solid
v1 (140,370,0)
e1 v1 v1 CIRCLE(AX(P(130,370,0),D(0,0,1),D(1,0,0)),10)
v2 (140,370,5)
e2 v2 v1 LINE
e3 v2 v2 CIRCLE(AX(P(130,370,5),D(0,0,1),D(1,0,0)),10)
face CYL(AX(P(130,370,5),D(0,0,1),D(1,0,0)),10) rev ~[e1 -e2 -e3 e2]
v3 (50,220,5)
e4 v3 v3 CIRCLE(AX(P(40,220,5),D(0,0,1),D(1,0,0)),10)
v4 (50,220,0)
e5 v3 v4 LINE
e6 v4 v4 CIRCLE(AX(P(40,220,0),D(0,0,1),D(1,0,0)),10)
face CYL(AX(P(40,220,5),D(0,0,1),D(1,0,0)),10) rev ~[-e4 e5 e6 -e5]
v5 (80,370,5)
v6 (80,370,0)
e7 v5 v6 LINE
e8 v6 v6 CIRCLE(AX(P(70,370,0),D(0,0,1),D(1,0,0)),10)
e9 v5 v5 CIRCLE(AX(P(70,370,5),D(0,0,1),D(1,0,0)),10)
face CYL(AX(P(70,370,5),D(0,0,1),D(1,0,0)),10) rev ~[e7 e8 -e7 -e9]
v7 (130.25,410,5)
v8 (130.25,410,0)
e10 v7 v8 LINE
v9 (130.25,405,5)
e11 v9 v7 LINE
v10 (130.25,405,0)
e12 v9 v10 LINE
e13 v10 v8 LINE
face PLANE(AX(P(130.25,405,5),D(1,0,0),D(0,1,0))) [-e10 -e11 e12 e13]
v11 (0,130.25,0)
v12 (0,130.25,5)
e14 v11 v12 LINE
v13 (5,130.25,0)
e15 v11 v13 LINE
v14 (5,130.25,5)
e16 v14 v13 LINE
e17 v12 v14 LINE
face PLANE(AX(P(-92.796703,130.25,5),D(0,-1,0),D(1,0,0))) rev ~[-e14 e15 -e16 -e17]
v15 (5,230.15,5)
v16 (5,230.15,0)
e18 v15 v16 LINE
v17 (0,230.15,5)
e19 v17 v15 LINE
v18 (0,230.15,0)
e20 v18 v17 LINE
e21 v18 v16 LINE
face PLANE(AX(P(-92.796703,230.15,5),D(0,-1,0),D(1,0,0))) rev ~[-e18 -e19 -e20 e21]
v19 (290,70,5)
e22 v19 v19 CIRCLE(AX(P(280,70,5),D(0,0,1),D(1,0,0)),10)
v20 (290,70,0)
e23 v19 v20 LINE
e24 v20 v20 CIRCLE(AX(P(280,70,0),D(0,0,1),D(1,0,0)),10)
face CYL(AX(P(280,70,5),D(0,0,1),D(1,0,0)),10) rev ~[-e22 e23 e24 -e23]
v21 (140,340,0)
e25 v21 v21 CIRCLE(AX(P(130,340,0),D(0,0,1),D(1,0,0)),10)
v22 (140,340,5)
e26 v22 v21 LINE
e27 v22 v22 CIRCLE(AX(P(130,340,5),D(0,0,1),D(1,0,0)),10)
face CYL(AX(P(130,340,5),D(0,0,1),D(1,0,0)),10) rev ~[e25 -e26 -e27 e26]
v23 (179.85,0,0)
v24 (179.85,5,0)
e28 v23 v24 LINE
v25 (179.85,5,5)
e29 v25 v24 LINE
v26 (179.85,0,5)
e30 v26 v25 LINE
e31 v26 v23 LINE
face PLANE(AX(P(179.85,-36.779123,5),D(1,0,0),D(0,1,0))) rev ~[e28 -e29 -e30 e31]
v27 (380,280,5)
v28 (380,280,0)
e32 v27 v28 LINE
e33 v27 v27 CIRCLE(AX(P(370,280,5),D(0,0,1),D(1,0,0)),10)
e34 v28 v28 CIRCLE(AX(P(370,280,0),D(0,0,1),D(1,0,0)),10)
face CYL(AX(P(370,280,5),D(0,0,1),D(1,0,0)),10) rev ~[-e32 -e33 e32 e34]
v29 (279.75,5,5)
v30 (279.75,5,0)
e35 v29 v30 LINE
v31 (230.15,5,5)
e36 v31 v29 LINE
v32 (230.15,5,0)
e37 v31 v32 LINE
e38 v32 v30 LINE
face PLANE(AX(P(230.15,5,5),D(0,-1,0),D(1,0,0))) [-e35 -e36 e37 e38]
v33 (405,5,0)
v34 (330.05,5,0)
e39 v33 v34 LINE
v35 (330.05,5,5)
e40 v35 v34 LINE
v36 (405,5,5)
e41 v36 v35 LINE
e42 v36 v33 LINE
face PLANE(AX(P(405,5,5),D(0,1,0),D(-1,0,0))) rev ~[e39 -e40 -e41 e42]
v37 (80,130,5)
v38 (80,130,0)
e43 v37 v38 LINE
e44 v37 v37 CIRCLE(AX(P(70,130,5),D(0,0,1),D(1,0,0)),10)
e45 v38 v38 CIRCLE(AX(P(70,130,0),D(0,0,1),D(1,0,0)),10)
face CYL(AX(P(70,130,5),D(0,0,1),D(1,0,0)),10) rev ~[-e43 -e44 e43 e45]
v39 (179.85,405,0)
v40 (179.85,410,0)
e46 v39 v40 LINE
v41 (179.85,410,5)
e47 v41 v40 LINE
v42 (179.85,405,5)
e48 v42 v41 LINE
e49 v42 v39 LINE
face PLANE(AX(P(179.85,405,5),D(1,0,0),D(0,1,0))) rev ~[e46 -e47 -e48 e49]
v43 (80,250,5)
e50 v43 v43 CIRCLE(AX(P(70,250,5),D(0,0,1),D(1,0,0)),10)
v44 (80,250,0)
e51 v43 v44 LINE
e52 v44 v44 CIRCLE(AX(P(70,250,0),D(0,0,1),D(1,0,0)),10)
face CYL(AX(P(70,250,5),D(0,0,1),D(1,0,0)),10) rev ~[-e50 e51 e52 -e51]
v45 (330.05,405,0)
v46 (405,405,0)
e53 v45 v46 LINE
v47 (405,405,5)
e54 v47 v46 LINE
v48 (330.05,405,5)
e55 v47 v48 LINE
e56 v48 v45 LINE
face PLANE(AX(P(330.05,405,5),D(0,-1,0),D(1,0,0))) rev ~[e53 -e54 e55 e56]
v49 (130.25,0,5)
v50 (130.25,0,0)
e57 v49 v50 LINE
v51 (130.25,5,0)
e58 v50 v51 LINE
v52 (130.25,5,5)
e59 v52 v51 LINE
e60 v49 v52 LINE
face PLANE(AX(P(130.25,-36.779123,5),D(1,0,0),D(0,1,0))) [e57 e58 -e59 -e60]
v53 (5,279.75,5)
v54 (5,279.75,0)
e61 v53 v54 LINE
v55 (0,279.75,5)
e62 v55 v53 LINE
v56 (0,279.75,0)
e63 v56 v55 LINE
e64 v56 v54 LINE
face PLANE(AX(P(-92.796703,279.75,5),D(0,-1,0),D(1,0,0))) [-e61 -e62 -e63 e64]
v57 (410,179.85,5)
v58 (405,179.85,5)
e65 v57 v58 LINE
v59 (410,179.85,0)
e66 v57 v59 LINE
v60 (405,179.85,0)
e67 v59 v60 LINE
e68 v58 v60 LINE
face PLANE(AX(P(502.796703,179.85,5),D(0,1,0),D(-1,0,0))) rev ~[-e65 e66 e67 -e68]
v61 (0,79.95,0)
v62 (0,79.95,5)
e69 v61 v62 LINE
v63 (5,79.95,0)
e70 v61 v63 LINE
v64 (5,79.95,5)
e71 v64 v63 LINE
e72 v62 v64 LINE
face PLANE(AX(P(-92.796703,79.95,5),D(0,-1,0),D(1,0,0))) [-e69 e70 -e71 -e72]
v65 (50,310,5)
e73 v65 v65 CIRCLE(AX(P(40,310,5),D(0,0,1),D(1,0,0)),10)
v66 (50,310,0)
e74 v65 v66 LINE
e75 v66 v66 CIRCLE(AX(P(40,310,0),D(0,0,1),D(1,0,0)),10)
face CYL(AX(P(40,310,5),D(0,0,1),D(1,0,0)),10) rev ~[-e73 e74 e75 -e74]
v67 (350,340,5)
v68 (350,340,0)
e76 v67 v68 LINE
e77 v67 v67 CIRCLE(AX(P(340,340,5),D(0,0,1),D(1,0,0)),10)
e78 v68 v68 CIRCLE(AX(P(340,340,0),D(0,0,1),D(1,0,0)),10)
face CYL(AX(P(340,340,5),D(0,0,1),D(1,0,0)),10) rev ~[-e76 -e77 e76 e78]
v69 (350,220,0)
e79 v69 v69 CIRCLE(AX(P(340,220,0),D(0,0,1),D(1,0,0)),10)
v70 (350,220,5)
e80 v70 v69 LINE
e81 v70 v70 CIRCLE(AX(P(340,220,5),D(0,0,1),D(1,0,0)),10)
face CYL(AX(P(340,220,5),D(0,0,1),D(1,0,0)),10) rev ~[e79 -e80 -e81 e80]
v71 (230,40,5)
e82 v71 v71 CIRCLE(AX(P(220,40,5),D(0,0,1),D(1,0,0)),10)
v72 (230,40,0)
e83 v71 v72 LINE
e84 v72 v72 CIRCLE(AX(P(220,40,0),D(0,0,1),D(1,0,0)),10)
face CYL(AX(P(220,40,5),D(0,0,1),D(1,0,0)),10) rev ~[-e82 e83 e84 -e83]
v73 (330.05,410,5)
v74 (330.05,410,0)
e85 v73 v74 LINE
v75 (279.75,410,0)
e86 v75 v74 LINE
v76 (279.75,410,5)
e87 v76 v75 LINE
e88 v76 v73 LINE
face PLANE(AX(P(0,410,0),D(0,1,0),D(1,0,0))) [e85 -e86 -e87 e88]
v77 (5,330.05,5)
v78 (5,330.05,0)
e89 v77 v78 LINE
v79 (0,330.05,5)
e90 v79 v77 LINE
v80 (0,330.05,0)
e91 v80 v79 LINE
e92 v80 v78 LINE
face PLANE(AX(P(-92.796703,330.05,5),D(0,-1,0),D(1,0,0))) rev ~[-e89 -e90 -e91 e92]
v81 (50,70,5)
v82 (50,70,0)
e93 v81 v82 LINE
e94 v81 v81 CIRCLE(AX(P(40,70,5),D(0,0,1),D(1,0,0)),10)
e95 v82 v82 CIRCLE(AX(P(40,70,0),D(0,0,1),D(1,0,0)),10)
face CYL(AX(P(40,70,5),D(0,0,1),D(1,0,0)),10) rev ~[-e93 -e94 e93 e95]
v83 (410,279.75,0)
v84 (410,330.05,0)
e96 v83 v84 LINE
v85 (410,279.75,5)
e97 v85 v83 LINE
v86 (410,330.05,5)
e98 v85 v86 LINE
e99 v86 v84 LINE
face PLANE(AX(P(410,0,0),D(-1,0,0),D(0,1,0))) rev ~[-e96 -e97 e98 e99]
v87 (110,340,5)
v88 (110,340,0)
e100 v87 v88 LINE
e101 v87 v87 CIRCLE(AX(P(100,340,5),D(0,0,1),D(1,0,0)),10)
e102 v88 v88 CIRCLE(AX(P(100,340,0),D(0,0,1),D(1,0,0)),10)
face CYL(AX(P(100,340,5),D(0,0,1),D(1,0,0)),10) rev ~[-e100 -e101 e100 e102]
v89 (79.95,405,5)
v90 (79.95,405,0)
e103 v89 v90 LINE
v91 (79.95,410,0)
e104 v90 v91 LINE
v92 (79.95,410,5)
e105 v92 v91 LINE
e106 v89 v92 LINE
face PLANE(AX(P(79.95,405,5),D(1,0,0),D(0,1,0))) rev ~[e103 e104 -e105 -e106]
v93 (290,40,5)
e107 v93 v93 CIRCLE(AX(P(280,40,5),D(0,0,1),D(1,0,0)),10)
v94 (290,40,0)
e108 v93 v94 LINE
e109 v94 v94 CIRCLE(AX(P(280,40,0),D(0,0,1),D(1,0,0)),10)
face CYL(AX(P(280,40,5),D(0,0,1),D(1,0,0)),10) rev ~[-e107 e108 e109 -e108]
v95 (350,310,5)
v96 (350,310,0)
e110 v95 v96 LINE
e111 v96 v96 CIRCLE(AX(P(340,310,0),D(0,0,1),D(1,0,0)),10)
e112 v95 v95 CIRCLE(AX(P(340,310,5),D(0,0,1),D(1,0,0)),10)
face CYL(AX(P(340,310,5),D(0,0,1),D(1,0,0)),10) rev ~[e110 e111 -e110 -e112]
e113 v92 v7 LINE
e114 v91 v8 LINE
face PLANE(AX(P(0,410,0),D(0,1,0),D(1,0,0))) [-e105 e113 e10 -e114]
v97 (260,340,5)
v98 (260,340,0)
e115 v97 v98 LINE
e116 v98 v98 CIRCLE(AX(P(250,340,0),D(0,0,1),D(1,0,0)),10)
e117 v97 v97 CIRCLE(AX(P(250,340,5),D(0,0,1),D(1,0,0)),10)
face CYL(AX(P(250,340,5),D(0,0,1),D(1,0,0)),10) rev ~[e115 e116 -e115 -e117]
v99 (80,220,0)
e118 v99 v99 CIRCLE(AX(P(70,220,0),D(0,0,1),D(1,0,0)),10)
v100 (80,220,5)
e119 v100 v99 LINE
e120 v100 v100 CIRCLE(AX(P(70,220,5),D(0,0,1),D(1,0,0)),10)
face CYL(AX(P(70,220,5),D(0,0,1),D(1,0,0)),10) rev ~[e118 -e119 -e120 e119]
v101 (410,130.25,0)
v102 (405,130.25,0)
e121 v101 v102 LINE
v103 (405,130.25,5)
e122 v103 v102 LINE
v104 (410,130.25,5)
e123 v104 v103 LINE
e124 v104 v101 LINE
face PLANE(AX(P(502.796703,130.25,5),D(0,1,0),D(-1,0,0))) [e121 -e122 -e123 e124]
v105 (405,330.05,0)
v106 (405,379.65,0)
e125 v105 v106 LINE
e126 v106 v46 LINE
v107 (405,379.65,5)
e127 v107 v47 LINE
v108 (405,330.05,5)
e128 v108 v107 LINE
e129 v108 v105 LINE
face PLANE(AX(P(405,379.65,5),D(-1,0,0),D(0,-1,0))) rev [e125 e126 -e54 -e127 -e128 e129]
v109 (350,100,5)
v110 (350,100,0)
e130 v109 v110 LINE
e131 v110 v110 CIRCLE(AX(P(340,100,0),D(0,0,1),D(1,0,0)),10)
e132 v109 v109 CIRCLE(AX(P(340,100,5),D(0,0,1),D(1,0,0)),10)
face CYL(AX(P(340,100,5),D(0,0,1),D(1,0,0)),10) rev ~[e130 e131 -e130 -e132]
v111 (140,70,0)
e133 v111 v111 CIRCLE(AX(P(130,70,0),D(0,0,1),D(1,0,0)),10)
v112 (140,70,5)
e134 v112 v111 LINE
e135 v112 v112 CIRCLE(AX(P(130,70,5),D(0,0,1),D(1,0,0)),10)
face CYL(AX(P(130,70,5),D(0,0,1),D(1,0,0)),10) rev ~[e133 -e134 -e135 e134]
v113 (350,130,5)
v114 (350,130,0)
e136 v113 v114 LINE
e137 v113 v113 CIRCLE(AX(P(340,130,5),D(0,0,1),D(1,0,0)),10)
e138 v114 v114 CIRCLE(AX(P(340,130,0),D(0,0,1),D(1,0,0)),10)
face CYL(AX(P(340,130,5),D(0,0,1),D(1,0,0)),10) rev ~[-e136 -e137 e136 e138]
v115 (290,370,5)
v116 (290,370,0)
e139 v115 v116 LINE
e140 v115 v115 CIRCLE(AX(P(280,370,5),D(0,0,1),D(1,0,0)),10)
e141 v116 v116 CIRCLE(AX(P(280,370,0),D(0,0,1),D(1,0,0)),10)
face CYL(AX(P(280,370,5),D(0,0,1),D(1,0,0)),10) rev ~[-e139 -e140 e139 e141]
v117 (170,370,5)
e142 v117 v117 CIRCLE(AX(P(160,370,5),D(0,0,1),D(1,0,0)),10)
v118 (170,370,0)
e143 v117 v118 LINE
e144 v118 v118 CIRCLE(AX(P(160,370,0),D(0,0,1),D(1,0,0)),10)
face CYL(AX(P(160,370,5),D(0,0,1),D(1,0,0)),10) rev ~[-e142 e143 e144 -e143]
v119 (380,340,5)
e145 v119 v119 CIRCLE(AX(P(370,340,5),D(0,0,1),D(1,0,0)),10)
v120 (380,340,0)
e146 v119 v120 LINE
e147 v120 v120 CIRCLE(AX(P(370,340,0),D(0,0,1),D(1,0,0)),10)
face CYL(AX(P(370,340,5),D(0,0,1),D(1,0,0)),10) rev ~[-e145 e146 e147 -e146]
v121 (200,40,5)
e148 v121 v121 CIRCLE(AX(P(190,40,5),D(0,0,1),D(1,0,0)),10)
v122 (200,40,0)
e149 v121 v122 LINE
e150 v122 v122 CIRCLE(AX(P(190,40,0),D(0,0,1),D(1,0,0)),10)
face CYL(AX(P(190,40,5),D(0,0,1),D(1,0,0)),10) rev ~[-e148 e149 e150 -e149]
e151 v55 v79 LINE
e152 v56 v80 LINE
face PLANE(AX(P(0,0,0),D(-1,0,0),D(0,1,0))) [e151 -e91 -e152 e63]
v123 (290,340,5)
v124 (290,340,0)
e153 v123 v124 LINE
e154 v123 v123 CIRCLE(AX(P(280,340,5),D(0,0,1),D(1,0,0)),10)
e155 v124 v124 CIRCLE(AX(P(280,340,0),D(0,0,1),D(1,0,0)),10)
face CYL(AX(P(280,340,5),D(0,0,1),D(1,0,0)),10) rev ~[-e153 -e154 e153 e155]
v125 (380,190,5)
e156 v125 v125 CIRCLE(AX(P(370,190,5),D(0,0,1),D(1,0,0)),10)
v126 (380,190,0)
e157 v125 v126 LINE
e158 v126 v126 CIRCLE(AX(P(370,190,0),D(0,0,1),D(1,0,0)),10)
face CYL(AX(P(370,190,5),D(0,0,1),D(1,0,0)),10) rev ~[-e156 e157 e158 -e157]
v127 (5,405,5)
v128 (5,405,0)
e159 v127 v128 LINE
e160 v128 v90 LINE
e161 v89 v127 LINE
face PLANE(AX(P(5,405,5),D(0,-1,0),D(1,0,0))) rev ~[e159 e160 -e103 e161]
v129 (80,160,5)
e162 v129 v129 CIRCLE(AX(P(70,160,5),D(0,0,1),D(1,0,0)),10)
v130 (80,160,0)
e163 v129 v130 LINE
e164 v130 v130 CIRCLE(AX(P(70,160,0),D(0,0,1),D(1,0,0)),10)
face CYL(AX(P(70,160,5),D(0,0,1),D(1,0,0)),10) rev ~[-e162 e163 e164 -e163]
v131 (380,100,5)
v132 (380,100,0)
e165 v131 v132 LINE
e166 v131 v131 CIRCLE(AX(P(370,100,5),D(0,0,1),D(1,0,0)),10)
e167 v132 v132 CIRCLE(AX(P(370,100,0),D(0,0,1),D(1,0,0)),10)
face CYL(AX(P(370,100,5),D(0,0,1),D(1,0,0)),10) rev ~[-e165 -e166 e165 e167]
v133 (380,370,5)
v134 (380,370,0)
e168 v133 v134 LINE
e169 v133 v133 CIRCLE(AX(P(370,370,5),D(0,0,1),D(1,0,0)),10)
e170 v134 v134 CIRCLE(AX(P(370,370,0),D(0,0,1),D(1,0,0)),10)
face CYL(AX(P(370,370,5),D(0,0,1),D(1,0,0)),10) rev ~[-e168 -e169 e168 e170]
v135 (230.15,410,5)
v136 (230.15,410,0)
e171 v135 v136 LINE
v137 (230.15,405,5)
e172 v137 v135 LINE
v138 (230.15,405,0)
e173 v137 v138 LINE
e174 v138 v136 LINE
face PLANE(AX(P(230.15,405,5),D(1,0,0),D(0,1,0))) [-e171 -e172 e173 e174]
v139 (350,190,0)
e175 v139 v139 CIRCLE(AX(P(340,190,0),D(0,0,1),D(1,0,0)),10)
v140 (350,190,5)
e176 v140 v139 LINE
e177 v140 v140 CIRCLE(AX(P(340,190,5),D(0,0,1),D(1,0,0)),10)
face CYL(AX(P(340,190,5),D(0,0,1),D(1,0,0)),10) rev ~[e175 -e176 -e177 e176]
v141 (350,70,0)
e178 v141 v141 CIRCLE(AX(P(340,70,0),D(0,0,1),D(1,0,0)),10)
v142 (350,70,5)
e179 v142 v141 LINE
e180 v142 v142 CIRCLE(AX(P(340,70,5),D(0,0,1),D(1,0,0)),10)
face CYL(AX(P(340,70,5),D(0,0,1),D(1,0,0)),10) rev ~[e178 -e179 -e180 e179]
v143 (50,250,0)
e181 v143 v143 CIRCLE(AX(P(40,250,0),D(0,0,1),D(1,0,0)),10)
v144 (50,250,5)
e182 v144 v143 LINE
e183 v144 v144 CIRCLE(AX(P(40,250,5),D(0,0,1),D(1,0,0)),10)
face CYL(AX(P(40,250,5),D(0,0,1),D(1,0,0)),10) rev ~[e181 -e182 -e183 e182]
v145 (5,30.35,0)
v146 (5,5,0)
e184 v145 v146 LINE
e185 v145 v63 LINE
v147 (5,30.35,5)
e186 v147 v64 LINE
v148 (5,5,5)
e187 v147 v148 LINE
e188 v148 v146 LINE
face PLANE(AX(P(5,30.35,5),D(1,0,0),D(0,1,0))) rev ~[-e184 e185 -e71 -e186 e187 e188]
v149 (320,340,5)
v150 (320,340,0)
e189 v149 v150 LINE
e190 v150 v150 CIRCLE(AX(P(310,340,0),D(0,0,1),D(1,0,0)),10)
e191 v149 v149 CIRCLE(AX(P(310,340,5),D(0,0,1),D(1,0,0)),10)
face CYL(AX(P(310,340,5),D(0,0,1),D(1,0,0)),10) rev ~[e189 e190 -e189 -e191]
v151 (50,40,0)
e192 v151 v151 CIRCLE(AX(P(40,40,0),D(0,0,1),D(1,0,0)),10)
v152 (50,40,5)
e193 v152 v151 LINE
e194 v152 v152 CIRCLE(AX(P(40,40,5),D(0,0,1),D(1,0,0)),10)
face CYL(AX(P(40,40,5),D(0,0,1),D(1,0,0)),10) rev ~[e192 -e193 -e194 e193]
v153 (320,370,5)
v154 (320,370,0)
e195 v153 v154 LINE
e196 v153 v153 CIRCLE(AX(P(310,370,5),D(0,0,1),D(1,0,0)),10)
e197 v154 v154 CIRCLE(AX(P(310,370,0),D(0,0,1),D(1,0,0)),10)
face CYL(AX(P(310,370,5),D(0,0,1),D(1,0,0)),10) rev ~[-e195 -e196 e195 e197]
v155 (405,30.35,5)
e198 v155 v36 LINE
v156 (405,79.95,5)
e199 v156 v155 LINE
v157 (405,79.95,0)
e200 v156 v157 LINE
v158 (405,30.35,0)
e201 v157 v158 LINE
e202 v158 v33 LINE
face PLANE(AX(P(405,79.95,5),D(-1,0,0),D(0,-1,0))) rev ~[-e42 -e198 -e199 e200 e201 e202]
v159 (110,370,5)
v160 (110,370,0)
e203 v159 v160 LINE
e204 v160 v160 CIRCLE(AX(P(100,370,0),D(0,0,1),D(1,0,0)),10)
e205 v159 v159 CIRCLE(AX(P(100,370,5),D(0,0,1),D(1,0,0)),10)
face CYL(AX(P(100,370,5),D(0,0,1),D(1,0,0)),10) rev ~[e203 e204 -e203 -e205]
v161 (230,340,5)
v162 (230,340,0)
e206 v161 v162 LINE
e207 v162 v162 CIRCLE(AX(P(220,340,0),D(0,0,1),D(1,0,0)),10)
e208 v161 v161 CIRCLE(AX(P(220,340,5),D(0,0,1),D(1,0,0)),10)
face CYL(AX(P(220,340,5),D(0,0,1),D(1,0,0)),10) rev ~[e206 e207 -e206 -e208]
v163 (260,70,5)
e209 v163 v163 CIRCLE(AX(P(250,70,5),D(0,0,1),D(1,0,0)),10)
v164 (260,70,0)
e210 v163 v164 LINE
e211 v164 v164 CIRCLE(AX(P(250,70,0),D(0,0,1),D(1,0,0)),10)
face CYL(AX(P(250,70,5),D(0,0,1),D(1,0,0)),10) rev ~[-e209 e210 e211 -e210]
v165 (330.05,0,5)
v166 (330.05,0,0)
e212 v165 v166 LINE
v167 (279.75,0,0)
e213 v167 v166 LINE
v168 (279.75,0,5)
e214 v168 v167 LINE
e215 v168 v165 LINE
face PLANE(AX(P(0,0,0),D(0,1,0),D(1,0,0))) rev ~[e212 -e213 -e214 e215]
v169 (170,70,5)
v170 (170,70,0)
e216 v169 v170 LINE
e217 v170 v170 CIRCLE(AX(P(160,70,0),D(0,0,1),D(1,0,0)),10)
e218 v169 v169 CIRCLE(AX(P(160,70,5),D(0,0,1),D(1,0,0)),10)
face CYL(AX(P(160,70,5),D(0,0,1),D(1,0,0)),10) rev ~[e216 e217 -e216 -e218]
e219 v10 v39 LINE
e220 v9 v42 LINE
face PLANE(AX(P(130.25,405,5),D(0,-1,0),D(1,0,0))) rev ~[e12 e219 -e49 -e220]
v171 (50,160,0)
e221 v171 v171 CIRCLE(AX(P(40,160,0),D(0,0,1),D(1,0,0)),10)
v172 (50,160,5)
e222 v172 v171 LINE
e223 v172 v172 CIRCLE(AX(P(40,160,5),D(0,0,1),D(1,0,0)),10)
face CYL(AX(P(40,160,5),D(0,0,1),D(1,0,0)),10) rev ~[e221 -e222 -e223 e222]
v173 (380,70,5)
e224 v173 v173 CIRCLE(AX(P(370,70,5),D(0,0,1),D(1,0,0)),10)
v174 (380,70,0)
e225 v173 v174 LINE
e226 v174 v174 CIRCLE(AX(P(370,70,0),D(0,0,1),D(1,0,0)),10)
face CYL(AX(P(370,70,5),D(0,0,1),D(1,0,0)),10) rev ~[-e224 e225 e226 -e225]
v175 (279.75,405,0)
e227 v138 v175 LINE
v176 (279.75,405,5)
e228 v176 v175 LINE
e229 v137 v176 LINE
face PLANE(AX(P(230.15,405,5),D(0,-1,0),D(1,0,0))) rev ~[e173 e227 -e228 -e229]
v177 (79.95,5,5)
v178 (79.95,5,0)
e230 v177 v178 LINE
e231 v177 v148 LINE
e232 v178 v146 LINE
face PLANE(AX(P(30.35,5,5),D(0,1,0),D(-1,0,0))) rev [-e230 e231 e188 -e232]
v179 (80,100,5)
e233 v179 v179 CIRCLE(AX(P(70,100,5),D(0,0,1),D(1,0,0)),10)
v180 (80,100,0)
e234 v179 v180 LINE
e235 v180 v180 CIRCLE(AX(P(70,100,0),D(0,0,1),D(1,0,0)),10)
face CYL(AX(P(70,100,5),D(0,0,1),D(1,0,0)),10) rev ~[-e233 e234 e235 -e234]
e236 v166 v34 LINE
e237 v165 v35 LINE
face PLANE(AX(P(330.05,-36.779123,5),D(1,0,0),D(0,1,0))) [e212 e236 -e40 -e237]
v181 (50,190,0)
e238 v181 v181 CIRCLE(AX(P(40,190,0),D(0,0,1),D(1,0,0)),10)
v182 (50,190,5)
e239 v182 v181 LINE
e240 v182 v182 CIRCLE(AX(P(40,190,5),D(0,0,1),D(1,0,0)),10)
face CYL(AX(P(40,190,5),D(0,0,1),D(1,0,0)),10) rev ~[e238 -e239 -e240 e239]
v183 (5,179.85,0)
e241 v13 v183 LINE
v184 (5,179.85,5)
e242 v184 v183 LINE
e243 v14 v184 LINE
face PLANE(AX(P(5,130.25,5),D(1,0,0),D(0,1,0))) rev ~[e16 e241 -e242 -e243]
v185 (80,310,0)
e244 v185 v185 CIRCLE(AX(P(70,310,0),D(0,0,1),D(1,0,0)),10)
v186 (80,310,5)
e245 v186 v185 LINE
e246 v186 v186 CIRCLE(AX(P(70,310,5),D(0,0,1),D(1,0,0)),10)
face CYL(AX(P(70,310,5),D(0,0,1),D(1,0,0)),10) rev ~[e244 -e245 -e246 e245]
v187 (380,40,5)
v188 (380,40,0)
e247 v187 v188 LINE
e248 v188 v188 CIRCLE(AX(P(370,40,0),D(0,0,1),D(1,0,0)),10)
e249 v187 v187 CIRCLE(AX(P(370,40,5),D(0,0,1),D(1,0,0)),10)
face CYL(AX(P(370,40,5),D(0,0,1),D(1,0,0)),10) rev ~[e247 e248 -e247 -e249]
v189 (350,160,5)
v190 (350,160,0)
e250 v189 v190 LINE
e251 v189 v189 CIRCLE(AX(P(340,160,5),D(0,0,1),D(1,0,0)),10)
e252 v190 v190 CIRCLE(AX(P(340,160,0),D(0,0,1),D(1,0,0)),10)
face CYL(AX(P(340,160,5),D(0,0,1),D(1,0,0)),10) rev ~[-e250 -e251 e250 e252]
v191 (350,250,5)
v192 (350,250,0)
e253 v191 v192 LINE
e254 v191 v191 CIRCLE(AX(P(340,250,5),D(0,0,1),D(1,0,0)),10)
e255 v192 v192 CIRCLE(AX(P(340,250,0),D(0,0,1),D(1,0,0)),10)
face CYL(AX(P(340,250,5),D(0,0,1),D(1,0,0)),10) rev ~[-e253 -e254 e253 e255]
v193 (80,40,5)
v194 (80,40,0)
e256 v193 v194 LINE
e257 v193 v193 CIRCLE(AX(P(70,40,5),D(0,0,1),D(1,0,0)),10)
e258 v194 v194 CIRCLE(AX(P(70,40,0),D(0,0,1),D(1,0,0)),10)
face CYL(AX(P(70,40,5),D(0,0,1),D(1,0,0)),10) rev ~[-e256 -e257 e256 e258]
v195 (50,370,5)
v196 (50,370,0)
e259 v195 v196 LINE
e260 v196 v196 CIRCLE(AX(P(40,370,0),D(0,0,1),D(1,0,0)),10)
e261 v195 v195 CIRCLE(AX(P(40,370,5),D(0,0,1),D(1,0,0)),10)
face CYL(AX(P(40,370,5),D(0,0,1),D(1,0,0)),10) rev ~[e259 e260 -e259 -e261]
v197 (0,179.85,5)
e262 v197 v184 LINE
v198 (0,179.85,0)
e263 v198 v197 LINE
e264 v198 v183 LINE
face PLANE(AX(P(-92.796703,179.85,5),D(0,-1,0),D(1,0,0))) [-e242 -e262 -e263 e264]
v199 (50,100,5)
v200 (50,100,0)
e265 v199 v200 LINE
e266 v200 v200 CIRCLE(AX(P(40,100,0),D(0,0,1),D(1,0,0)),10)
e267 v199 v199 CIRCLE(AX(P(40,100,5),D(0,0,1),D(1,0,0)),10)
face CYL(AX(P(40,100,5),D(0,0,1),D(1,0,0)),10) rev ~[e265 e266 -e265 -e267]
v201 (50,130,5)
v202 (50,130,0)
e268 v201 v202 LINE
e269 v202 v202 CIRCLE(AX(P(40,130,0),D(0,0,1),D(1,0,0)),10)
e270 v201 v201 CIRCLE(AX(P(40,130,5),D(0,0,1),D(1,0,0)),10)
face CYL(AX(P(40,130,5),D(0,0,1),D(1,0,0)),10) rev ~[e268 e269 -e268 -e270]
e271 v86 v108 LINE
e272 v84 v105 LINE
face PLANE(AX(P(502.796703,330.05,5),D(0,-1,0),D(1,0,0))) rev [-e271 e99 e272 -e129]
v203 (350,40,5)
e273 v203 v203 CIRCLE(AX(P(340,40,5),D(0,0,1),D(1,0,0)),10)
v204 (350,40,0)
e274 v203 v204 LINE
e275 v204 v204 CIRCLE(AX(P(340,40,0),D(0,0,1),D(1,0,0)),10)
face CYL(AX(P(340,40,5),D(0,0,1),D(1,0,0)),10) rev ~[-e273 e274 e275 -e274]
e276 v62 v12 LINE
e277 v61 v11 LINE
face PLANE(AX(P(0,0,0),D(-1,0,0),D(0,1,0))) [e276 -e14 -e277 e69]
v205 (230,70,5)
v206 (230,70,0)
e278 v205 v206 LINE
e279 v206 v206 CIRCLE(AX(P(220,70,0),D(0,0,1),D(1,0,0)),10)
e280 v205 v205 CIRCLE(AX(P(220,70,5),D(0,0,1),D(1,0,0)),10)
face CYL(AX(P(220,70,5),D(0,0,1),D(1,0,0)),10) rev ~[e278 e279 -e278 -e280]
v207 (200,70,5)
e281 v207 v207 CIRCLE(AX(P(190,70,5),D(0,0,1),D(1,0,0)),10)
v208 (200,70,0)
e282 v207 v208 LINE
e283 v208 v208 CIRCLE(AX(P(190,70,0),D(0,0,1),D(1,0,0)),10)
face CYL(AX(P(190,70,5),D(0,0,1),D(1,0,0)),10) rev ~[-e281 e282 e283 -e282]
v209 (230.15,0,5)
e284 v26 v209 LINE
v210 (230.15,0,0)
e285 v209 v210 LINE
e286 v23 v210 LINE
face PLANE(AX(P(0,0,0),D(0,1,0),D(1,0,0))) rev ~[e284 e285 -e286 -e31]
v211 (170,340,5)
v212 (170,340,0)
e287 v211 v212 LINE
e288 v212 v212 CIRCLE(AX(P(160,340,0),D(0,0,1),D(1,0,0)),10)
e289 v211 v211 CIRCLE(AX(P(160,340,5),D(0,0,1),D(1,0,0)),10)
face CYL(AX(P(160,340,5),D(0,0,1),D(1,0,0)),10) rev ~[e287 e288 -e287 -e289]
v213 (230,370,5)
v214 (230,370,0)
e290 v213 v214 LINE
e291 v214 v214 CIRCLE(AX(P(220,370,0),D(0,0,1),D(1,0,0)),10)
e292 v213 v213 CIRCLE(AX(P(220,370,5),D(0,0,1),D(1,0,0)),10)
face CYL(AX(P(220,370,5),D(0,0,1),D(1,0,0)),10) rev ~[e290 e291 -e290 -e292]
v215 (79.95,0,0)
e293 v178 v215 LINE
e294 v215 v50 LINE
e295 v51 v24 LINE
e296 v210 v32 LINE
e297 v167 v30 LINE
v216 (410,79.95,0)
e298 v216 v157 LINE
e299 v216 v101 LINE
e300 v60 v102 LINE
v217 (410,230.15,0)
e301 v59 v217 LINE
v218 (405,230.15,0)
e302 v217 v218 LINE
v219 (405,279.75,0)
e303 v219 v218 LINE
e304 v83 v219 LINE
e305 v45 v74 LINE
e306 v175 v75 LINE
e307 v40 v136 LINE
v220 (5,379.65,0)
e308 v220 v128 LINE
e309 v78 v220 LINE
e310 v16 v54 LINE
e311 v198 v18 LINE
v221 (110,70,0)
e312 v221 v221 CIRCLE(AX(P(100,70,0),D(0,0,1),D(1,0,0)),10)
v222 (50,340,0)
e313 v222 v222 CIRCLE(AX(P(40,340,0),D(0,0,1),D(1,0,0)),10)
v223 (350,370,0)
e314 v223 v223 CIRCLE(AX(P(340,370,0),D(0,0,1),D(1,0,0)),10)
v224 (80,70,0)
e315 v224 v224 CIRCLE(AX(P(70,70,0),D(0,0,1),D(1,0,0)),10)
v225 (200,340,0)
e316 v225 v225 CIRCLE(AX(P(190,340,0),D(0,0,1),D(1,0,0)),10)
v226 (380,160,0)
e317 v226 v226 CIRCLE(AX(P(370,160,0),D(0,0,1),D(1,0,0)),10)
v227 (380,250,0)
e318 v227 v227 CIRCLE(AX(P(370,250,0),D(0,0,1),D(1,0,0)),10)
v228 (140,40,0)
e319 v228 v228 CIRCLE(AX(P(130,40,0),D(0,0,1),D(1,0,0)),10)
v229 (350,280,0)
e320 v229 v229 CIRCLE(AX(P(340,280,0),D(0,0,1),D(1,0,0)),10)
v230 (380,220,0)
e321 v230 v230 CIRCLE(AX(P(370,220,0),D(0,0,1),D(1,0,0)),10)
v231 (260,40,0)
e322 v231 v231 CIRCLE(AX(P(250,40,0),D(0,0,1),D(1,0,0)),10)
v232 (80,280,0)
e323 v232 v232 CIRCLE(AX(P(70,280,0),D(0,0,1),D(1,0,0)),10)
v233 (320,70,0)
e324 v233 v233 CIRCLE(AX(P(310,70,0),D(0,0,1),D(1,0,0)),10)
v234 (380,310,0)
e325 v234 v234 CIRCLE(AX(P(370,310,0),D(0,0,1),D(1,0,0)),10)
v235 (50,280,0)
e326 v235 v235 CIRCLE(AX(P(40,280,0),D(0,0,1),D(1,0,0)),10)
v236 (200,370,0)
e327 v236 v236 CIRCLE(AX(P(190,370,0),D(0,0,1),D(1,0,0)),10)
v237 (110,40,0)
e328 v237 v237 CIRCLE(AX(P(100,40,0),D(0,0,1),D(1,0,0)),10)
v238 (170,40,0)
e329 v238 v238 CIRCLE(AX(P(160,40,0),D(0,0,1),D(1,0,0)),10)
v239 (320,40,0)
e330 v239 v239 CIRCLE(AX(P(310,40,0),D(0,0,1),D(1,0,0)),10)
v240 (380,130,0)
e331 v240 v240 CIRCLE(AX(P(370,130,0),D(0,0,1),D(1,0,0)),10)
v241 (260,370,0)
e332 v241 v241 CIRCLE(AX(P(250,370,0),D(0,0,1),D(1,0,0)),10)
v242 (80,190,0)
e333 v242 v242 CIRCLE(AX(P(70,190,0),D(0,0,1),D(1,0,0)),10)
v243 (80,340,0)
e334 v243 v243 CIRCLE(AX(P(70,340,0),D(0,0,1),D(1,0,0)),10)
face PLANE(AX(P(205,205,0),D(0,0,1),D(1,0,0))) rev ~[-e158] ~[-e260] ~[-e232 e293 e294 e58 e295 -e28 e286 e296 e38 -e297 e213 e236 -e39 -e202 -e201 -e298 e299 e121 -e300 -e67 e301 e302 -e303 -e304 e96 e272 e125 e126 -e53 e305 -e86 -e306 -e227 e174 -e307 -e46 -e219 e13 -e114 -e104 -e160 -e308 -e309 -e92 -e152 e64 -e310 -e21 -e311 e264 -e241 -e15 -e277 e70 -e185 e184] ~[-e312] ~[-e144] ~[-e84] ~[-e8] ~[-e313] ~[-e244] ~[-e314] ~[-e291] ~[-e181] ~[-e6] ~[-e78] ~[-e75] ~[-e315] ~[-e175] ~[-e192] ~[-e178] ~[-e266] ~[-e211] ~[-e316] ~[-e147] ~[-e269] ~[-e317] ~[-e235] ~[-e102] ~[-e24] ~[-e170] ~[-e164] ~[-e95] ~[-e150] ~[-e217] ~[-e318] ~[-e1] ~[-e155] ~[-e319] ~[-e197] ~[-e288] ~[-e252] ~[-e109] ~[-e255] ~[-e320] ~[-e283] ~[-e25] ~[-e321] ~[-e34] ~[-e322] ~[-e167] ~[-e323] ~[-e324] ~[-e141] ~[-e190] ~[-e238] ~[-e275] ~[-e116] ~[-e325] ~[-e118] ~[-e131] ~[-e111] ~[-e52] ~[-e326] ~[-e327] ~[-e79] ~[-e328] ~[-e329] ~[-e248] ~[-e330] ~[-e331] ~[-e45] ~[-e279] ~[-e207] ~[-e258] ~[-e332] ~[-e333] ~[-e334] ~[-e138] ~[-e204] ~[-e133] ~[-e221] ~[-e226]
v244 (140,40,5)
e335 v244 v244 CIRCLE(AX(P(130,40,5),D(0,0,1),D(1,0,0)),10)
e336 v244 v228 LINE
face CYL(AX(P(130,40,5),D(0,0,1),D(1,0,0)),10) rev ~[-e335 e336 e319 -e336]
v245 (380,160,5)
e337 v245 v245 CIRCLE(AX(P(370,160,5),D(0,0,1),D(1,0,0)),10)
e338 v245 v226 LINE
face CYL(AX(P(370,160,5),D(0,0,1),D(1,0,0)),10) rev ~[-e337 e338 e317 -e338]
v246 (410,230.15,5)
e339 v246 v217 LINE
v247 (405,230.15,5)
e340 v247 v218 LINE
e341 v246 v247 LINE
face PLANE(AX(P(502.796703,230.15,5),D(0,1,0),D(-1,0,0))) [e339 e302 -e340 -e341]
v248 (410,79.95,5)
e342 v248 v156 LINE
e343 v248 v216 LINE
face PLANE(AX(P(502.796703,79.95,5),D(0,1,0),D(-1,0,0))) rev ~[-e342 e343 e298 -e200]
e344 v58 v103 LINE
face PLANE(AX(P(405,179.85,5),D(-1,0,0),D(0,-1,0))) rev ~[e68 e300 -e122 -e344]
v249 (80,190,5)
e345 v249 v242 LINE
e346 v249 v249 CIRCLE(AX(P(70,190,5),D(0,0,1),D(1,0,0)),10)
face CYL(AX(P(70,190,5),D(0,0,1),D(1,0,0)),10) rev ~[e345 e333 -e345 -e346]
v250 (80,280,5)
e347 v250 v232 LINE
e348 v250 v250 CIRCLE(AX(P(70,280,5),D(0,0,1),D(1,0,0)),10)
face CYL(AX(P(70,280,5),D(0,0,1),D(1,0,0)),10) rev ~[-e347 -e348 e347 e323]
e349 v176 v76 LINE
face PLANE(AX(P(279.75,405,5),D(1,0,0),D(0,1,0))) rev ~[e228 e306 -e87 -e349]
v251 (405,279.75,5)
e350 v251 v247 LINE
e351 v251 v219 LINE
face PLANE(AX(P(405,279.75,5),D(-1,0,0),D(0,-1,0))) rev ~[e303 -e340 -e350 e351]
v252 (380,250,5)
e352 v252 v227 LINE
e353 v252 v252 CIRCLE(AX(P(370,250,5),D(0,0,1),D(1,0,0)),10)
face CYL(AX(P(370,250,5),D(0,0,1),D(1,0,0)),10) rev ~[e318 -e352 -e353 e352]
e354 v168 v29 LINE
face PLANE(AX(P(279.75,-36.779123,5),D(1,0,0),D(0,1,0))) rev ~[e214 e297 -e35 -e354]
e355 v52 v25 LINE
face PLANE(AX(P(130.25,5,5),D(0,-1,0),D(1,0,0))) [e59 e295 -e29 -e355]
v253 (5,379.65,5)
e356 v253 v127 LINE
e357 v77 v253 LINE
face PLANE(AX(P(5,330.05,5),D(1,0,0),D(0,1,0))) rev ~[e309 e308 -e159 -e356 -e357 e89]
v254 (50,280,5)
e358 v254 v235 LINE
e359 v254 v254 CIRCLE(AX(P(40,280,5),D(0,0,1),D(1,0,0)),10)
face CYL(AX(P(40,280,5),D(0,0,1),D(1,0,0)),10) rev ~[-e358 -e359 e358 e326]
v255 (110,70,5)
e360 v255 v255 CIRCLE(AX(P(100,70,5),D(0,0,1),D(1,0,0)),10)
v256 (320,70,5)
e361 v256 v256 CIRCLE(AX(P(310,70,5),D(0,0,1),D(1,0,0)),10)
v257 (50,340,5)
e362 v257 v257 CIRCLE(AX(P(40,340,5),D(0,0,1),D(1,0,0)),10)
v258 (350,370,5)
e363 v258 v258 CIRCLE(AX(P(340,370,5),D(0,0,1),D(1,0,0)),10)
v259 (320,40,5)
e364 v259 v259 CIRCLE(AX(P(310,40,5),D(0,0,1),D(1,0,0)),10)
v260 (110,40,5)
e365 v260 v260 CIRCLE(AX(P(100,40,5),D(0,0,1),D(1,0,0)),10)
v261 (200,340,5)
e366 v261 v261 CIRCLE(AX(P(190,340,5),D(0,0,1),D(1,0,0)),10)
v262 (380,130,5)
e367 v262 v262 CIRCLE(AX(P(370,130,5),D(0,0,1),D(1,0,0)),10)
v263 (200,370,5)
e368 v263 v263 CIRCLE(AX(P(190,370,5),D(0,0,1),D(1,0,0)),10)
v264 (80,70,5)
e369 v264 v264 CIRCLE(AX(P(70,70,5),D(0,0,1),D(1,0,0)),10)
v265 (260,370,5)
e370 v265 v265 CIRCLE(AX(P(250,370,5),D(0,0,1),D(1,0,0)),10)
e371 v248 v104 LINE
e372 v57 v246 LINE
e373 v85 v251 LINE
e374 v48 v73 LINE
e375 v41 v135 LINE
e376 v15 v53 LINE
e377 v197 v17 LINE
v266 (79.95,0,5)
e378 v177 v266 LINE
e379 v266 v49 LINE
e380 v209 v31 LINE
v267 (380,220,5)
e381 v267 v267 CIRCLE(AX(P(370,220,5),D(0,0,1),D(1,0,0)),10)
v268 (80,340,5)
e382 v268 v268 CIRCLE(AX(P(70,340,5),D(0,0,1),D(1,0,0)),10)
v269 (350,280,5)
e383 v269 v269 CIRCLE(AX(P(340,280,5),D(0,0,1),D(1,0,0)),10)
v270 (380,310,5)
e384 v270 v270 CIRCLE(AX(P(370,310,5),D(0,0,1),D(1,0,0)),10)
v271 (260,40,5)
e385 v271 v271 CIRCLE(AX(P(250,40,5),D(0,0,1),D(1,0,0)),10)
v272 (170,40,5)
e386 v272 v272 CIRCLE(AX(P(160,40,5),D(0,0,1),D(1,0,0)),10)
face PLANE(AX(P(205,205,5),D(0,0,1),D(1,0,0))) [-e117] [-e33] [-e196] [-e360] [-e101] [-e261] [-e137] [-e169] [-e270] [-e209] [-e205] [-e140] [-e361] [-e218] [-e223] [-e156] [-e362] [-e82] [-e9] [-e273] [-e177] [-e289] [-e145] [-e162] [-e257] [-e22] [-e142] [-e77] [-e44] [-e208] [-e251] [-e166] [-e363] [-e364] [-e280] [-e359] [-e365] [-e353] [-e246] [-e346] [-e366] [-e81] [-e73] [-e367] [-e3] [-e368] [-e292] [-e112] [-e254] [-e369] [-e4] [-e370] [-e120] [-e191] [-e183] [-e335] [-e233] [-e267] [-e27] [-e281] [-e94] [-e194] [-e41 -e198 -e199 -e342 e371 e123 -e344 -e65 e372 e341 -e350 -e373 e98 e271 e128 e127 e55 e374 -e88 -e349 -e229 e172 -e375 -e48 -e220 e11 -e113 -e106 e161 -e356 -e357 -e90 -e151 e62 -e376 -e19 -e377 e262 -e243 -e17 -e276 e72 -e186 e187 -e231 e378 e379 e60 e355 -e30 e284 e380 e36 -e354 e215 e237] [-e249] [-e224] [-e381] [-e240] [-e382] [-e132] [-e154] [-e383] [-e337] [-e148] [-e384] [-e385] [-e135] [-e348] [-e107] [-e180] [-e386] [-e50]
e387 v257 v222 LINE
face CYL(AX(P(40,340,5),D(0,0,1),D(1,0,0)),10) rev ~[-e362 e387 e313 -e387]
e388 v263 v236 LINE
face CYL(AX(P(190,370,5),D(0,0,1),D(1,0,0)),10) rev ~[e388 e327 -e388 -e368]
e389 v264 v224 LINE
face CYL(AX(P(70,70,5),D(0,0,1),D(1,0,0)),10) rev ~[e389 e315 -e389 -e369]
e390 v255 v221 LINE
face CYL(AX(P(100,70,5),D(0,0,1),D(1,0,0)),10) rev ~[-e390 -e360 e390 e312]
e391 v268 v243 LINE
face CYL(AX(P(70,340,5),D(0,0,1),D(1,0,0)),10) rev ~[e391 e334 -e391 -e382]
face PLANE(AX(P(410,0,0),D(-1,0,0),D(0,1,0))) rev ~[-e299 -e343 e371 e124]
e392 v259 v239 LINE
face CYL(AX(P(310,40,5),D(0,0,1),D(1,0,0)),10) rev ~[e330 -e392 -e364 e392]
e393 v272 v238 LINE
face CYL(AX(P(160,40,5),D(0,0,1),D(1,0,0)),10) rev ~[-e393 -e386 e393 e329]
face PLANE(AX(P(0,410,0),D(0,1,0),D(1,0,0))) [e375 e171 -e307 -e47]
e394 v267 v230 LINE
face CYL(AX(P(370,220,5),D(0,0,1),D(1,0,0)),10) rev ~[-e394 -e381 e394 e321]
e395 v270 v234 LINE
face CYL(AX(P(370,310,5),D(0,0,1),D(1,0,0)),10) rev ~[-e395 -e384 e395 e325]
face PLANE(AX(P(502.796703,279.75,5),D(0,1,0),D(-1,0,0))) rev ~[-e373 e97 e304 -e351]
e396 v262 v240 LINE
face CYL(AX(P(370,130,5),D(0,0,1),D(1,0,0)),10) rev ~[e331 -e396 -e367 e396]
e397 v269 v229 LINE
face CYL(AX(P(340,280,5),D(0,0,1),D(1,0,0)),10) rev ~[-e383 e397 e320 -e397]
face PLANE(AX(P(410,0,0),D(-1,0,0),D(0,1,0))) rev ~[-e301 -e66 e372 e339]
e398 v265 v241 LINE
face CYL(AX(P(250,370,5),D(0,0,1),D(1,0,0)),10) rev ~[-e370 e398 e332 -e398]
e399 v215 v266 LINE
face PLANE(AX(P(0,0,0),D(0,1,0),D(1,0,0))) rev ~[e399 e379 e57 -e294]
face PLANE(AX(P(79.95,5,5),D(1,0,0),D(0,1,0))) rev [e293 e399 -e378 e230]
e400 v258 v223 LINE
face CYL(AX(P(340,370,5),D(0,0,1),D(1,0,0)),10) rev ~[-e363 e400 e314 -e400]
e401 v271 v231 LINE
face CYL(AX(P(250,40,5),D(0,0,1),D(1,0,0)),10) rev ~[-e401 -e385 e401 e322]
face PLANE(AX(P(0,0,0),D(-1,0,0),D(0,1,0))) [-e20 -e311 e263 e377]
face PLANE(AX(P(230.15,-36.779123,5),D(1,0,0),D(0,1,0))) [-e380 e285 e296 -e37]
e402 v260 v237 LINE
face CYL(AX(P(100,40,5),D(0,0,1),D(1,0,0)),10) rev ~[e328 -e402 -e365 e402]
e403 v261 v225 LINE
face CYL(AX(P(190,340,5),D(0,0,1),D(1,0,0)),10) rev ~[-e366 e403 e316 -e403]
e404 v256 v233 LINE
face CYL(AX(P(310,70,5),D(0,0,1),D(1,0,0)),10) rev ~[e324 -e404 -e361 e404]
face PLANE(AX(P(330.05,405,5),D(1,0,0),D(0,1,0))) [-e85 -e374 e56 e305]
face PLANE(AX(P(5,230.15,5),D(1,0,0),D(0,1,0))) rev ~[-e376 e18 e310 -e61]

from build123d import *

# Parameters (mm, degrees)
SKIZZE1_W                       = 410
SKIZZE1_H                       = 410
AUFSATZ_LINEAR_AUSTRAGEN1_DEPTH = 5
SKIZZE2_W                       = 97.796702903
SKIZZE2_H                       = 49.6
SCHNITT_LINEAR_AUSTRAGEN1_DEPTH = 5
LINEARES_MUSTER1_COUNT          = 4
LINEARES_MUSTER1_PITCH          = 99.9
SPIEGELN1_COPY_1_SKETCH_W       = 97.796702903
SPIEGELN1_COPY_1_SKETCH_H       = 49.6
SPIEGELN1_COPY_1_DEPTH          = 5
SPIEGELN1_COPY_2_SKETCH_W       = 97.796702903
SPIEGELN1_COPY_2_SKETCH_H       = 49.6
SPIEGELN1_COPY_2_DEPTH          = 5
SPIEGELN1_COPY_3_SKETCH_W       = 97.796702903
SPIEGELN1_COPY_3_SKETCH_H       = 49.6
SPIEGELN1_COPY_3_DEPTH          = 5
SKIZZE3_W                       = 49.6
SKIZZE3_H                       = 41.77912255
SCHNITT_LINEAR_AUSTRAGEN2_DEPTH = 5
LINEARES_MUSTER2_COUNT          = 4
LINEARES_MUSTER2_PITCH          = 99.9
SPIEGELN2_COPY_1_SKETCH_W       = 49.6
SPIEGELN2_COPY_1_SKETCH_H       = 41.77912255
SPIEGELN2_COPY_1_DEPTH          = 5
SPIEGELN2_COPY_2_SKETCH_W       = 49.6
SPIEGELN2_COPY_2_SKETCH_H       = 41.77912255
SPIEGELN2_COPY_2_DEPTH          = 5
SPIEGELN2_COPY_3_SKETCH_W       = 49.6
SPIEGELN2_COPY_3_SKETCH_H       = 41.77912255
SPIEGELN2_COPY_3_DEPTH          = 5
SCHNITT_LINEAR_AUSTRAGEN3_DEPTH = 5
SPIEGELN4_COPY_1_DEPTH          = 5
SKIZZE5_R                       = 10
SCHNITT_LINEAR_AUSTRAGEN4_DEPTH = 5
LINEARES_MUSTER3_COUNT          = 12
LINEARES_MUSTER3_PITCH          = 30
LINEARES_MUSTER3_COUNT_DIR2     = 12
LINEARES_MUSTER3_PITCH_DIR2     = 30


with BuildPart() as part:
    # Skizze1 → Aufsatz-Linear austragen1 (new body)
    with BuildSketch(Plane.XY):
        with Locations((205, 205)):
            Rectangle(SKIZZE1_W, SKIZZE1_H)
    extrude(amount=AUFSATZ_LINEAR_AUSTRAGEN1_DEPTH)

    # Skizze2 → Schnitt-Linear austragen1 (cut)
    with BuildSketch(Plane.XY.offset(5)):
        with Locations((-43.898351452, 354.85)):
            Rectangle(SKIZZE2_W, SKIZZE2_H)
    schnitt_linear_austragen1 = extrude(amount=-SCHNITT_LINEAR_AUSTRAGEN1_DEPTH, mode=Mode.SUBTRACT)

    # Lineares Muster1: Schnitt-Linear austragen1 ×4
    with Locations(*[(0, -i * LINEARES_MUSTER1_PITCH, 0) for i in range(1, LINEARES_MUSTER1_COUNT)]):
        add(schnitt_linear_austragen1, mode=Mode.SUBTRACT)

    # Spiegeln1: Schnitt-Linear austragen1 across plane
    add(schnitt_linear_austragen1.mirror(Plane(origin=(205, 0, 0), x_dir=(0, 0, 1), z_dir=(1, 0, 0))), mode=Mode.SUBTRACT)

    # Spiegeln1 copy 1 sketch → Spiegeln1 copy 1 (cut)
    with BuildSketch(Plane(origin=(410, -99.9, 5), x_dir=(-1, 0, 0), z_dir=(0, 0, 1))):
        with Locations((-43.898351452, -354.85)):
            Rectangle(SPIEGELN1_COPY_1_SKETCH_W, SPIEGELN1_COPY_1_SKETCH_H)
    extrude(amount=-SPIEGELN1_COPY_1_DEPTH, mode=Mode.SUBTRACT)

    # Spiegeln1 copy 2 sketch → Spiegeln1 copy 2 (cut)
    with BuildSketch(Plane(origin=(410, -199.8, 5), x_dir=(-1, 0, 0), z_dir=(0, 0, 1))):
        with Locations((-43.898351452, -354.85)):
            Rectangle(SPIEGELN1_COPY_2_SKETCH_W, SPIEGELN1_COPY_2_SKETCH_H)
    extrude(amount=-SPIEGELN1_COPY_2_DEPTH, mode=Mode.SUBTRACT)

    # Spiegeln1 copy 3 sketch → Spiegeln1 copy 3 (cut)
    with BuildSketch(Plane(origin=(410, -299.7, 5), x_dir=(-1, 0, 0), z_dir=(0, 0, 1))):
        with Locations((-43.898351452, -354.85)):
            Rectangle(SPIEGELN1_COPY_3_SKETCH_W, SPIEGELN1_COPY_3_SKETCH_H)
    extrude(amount=-SPIEGELN1_COPY_3_DEPTH, mode=Mode.SUBTRACT)

    # Skizze3 → Schnitt-Linear austragen2 (cut)
    with BuildSketch(Plane.XY.offset(5)):
        with Locations((55.15, 425.889561275)):
            Rectangle(SKIZZE3_W, SKIZZE3_H)
    schnitt_linear_austragen2 = extrude(amount=-SCHNITT_LINEAR_AUSTRAGEN2_DEPTH, mode=Mode.SUBTRACT)

    # Lineares Muster2: Schnitt-Linear austragen2 ×4
    with Locations(*[(i * LINEARES_MUSTER2_PITCH, 0, 0) for i in range(1, LINEARES_MUSTER2_COUNT)]):
        add(schnitt_linear_austragen2, mode=Mode.SUBTRACT)

    # Spiegeln2: Schnitt-Linear austragen2 across plane
    add(schnitt_linear_austragen2.mirror(Plane.ZX.offset(205)), mode=Mode.SUBTRACT)

    # Spiegeln2 copy 1 sketch → Spiegeln2 copy 1 (cut)
    with BuildSketch(Plane(origin=(99.9, 410, 5), x_dir=(1, 0, 0), z_dir=(0, 0, 1))):
        with Locations((55.15, -425.889561275)):
            Rectangle(SPIEGELN2_COPY_1_SKETCH_W, SPIEGELN2_COPY_1_SKETCH_H)
    extrude(amount=-SPIEGELN2_COPY_1_DEPTH, mode=Mode.SUBTRACT)

    # Spiegeln2 copy 2 sketch → Spiegeln2 copy 2 (cut)
    with BuildSketch(Plane(origin=(199.8, 410, 5), x_dir=(1, 0, 0), z_dir=(0, 0, 1))):
        with Locations((55.15, -425.889561275)):
            Rectangle(SPIEGELN2_COPY_2_SKETCH_W, SPIEGELN2_COPY_2_SKETCH_H)
    extrude(amount=-SPIEGELN2_COPY_2_DEPTH, mode=Mode.SUBTRACT)

    # Spiegeln2 copy 3 sketch → Spiegeln2 copy 3 (cut)
    with BuildSketch(Plane(origin=(299.7, 410, 5), x_dir=(1, 0, 0), z_dir=(0, 0, 1))):
        with Locations((55.15, -425.889561275)):
            Rectangle(SPIEGELN2_COPY_3_SKETCH_W, SPIEGELN2_COPY_3_SKETCH_H)
    extrude(amount=-SPIEGELN2_COPY_3_DEPTH, mode=Mode.SUBTRACT)

    # Skizze4 → Schnitt-Linear austragen3 (cut)
    with BuildSketch(Plane.XY.offset(5)):
        Polygon((5, 379.65), (5, 405), (30.35, 405), (30.35, 431.549801047), (5, 431.549801047), (-47.862925009, 431.549801047), (-47.862925009, 405), (-47.862925009, 379.65), align=None)
    schnitt_linear_austragen3 = extrude(amount=-SCHNITT_LINEAR_AUSTRAGEN3_DEPTH, mode=Mode.SUBTRACT)

    # Spiegeln3: Schnitt-Linear austragen3 across plane
    add(schnitt_linear_austragen3.mirror(Plane(origin=(205, 0, 0), x_dir=(0, 0, 1), z_dir=(1, 0, 0))), mode=Mode.SUBTRACT)

    # Spiegeln4: Schnitt-Linear austragen3 across plane
    add(schnitt_linear_austragen3.mirror(Plane.ZX.offset(205)), mode=Mode.SUBTRACT)

    # Spiegeln4 copy 1 sketch → Spiegeln4 copy 1 (cut)
    with BuildSketch(Plane(origin=(410, 410, 5), x_dir=(-1, 0, 0), z_dir=(0, 0, 1))):
        Polygon((5, 379.65), (5, 405), (30.35, 405), (30.35, 431.549801047), (5, 431.549801047), (-47.862925009, 431.549801047), (-47.862925009, 405), (-47.862925009, 379.65), align=None)
    extrude(amount=-SPIEGELN4_COPY_1_DEPTH, mode=Mode.SUBTRACT)

    # Skizze5 → Schnitt-Linear austragen4 (cut)
    with BuildSketch(Plane.XY.offset(5)):
        with Locations((40, 370)):
            Circle(SKIZZE5_R)
    schnitt_linear_austragen4 = extrude(amount=-SCHNITT_LINEAR_AUSTRAGEN4_DEPTH, mode=Mode.SUBTRACT)

    # Lineares Muster3: Schnitt-Linear austragen4 12 × 12, 64 skipped
    with Locations(*[(i * LINEARES_MUSTER3_PITCH, -j * LINEARES_MUSTER3_PITCH_DIR2, 0) for i in range(LINEARES_MUSTER3_COUNT) for j in range(LINEARES_MUSTER3_COUNT_DIR2) if (i, j) not in ((0, 0), (2, 2), (2, 3), (2, 4), (2, 5), (2, 6), (2, 7), (2, 8), (2, 9), (3, 2), (3, 3), (3, 4), (3, 5), (3, 6), (3, 7), (3, 8), (3, 9), (4, 2), (4, 3), (4, 4), (4, 5), (4, 6), (4, 7), (4, 8), (4, 9), (5, 2), (5, 3), (5, 4), (5, 5), (5, 6), (5, 7), (5, 8), (5, 9), (6, 2), (6, 3), (6, 4), (6, 5), (6, 6), (6, 7), (6, 8), (6, 9), (7, 2), (7, 3), (7, 4), (7, 5), (7, 6), (7, 7), (7, 8), (7, 9), (8, 2), (8, 3), (8, 4), (8, 5), (8, 6), (8, 7), (8, 8), (8, 9), (9, 2), (9, 3), (9, 4), (9, 5), (9, 6), (9, 7), (9, 8), (9, 9))]):
        add(schnitt_linear_austragen4, mode=Mode.SUBTRACT)


solid = part.part
